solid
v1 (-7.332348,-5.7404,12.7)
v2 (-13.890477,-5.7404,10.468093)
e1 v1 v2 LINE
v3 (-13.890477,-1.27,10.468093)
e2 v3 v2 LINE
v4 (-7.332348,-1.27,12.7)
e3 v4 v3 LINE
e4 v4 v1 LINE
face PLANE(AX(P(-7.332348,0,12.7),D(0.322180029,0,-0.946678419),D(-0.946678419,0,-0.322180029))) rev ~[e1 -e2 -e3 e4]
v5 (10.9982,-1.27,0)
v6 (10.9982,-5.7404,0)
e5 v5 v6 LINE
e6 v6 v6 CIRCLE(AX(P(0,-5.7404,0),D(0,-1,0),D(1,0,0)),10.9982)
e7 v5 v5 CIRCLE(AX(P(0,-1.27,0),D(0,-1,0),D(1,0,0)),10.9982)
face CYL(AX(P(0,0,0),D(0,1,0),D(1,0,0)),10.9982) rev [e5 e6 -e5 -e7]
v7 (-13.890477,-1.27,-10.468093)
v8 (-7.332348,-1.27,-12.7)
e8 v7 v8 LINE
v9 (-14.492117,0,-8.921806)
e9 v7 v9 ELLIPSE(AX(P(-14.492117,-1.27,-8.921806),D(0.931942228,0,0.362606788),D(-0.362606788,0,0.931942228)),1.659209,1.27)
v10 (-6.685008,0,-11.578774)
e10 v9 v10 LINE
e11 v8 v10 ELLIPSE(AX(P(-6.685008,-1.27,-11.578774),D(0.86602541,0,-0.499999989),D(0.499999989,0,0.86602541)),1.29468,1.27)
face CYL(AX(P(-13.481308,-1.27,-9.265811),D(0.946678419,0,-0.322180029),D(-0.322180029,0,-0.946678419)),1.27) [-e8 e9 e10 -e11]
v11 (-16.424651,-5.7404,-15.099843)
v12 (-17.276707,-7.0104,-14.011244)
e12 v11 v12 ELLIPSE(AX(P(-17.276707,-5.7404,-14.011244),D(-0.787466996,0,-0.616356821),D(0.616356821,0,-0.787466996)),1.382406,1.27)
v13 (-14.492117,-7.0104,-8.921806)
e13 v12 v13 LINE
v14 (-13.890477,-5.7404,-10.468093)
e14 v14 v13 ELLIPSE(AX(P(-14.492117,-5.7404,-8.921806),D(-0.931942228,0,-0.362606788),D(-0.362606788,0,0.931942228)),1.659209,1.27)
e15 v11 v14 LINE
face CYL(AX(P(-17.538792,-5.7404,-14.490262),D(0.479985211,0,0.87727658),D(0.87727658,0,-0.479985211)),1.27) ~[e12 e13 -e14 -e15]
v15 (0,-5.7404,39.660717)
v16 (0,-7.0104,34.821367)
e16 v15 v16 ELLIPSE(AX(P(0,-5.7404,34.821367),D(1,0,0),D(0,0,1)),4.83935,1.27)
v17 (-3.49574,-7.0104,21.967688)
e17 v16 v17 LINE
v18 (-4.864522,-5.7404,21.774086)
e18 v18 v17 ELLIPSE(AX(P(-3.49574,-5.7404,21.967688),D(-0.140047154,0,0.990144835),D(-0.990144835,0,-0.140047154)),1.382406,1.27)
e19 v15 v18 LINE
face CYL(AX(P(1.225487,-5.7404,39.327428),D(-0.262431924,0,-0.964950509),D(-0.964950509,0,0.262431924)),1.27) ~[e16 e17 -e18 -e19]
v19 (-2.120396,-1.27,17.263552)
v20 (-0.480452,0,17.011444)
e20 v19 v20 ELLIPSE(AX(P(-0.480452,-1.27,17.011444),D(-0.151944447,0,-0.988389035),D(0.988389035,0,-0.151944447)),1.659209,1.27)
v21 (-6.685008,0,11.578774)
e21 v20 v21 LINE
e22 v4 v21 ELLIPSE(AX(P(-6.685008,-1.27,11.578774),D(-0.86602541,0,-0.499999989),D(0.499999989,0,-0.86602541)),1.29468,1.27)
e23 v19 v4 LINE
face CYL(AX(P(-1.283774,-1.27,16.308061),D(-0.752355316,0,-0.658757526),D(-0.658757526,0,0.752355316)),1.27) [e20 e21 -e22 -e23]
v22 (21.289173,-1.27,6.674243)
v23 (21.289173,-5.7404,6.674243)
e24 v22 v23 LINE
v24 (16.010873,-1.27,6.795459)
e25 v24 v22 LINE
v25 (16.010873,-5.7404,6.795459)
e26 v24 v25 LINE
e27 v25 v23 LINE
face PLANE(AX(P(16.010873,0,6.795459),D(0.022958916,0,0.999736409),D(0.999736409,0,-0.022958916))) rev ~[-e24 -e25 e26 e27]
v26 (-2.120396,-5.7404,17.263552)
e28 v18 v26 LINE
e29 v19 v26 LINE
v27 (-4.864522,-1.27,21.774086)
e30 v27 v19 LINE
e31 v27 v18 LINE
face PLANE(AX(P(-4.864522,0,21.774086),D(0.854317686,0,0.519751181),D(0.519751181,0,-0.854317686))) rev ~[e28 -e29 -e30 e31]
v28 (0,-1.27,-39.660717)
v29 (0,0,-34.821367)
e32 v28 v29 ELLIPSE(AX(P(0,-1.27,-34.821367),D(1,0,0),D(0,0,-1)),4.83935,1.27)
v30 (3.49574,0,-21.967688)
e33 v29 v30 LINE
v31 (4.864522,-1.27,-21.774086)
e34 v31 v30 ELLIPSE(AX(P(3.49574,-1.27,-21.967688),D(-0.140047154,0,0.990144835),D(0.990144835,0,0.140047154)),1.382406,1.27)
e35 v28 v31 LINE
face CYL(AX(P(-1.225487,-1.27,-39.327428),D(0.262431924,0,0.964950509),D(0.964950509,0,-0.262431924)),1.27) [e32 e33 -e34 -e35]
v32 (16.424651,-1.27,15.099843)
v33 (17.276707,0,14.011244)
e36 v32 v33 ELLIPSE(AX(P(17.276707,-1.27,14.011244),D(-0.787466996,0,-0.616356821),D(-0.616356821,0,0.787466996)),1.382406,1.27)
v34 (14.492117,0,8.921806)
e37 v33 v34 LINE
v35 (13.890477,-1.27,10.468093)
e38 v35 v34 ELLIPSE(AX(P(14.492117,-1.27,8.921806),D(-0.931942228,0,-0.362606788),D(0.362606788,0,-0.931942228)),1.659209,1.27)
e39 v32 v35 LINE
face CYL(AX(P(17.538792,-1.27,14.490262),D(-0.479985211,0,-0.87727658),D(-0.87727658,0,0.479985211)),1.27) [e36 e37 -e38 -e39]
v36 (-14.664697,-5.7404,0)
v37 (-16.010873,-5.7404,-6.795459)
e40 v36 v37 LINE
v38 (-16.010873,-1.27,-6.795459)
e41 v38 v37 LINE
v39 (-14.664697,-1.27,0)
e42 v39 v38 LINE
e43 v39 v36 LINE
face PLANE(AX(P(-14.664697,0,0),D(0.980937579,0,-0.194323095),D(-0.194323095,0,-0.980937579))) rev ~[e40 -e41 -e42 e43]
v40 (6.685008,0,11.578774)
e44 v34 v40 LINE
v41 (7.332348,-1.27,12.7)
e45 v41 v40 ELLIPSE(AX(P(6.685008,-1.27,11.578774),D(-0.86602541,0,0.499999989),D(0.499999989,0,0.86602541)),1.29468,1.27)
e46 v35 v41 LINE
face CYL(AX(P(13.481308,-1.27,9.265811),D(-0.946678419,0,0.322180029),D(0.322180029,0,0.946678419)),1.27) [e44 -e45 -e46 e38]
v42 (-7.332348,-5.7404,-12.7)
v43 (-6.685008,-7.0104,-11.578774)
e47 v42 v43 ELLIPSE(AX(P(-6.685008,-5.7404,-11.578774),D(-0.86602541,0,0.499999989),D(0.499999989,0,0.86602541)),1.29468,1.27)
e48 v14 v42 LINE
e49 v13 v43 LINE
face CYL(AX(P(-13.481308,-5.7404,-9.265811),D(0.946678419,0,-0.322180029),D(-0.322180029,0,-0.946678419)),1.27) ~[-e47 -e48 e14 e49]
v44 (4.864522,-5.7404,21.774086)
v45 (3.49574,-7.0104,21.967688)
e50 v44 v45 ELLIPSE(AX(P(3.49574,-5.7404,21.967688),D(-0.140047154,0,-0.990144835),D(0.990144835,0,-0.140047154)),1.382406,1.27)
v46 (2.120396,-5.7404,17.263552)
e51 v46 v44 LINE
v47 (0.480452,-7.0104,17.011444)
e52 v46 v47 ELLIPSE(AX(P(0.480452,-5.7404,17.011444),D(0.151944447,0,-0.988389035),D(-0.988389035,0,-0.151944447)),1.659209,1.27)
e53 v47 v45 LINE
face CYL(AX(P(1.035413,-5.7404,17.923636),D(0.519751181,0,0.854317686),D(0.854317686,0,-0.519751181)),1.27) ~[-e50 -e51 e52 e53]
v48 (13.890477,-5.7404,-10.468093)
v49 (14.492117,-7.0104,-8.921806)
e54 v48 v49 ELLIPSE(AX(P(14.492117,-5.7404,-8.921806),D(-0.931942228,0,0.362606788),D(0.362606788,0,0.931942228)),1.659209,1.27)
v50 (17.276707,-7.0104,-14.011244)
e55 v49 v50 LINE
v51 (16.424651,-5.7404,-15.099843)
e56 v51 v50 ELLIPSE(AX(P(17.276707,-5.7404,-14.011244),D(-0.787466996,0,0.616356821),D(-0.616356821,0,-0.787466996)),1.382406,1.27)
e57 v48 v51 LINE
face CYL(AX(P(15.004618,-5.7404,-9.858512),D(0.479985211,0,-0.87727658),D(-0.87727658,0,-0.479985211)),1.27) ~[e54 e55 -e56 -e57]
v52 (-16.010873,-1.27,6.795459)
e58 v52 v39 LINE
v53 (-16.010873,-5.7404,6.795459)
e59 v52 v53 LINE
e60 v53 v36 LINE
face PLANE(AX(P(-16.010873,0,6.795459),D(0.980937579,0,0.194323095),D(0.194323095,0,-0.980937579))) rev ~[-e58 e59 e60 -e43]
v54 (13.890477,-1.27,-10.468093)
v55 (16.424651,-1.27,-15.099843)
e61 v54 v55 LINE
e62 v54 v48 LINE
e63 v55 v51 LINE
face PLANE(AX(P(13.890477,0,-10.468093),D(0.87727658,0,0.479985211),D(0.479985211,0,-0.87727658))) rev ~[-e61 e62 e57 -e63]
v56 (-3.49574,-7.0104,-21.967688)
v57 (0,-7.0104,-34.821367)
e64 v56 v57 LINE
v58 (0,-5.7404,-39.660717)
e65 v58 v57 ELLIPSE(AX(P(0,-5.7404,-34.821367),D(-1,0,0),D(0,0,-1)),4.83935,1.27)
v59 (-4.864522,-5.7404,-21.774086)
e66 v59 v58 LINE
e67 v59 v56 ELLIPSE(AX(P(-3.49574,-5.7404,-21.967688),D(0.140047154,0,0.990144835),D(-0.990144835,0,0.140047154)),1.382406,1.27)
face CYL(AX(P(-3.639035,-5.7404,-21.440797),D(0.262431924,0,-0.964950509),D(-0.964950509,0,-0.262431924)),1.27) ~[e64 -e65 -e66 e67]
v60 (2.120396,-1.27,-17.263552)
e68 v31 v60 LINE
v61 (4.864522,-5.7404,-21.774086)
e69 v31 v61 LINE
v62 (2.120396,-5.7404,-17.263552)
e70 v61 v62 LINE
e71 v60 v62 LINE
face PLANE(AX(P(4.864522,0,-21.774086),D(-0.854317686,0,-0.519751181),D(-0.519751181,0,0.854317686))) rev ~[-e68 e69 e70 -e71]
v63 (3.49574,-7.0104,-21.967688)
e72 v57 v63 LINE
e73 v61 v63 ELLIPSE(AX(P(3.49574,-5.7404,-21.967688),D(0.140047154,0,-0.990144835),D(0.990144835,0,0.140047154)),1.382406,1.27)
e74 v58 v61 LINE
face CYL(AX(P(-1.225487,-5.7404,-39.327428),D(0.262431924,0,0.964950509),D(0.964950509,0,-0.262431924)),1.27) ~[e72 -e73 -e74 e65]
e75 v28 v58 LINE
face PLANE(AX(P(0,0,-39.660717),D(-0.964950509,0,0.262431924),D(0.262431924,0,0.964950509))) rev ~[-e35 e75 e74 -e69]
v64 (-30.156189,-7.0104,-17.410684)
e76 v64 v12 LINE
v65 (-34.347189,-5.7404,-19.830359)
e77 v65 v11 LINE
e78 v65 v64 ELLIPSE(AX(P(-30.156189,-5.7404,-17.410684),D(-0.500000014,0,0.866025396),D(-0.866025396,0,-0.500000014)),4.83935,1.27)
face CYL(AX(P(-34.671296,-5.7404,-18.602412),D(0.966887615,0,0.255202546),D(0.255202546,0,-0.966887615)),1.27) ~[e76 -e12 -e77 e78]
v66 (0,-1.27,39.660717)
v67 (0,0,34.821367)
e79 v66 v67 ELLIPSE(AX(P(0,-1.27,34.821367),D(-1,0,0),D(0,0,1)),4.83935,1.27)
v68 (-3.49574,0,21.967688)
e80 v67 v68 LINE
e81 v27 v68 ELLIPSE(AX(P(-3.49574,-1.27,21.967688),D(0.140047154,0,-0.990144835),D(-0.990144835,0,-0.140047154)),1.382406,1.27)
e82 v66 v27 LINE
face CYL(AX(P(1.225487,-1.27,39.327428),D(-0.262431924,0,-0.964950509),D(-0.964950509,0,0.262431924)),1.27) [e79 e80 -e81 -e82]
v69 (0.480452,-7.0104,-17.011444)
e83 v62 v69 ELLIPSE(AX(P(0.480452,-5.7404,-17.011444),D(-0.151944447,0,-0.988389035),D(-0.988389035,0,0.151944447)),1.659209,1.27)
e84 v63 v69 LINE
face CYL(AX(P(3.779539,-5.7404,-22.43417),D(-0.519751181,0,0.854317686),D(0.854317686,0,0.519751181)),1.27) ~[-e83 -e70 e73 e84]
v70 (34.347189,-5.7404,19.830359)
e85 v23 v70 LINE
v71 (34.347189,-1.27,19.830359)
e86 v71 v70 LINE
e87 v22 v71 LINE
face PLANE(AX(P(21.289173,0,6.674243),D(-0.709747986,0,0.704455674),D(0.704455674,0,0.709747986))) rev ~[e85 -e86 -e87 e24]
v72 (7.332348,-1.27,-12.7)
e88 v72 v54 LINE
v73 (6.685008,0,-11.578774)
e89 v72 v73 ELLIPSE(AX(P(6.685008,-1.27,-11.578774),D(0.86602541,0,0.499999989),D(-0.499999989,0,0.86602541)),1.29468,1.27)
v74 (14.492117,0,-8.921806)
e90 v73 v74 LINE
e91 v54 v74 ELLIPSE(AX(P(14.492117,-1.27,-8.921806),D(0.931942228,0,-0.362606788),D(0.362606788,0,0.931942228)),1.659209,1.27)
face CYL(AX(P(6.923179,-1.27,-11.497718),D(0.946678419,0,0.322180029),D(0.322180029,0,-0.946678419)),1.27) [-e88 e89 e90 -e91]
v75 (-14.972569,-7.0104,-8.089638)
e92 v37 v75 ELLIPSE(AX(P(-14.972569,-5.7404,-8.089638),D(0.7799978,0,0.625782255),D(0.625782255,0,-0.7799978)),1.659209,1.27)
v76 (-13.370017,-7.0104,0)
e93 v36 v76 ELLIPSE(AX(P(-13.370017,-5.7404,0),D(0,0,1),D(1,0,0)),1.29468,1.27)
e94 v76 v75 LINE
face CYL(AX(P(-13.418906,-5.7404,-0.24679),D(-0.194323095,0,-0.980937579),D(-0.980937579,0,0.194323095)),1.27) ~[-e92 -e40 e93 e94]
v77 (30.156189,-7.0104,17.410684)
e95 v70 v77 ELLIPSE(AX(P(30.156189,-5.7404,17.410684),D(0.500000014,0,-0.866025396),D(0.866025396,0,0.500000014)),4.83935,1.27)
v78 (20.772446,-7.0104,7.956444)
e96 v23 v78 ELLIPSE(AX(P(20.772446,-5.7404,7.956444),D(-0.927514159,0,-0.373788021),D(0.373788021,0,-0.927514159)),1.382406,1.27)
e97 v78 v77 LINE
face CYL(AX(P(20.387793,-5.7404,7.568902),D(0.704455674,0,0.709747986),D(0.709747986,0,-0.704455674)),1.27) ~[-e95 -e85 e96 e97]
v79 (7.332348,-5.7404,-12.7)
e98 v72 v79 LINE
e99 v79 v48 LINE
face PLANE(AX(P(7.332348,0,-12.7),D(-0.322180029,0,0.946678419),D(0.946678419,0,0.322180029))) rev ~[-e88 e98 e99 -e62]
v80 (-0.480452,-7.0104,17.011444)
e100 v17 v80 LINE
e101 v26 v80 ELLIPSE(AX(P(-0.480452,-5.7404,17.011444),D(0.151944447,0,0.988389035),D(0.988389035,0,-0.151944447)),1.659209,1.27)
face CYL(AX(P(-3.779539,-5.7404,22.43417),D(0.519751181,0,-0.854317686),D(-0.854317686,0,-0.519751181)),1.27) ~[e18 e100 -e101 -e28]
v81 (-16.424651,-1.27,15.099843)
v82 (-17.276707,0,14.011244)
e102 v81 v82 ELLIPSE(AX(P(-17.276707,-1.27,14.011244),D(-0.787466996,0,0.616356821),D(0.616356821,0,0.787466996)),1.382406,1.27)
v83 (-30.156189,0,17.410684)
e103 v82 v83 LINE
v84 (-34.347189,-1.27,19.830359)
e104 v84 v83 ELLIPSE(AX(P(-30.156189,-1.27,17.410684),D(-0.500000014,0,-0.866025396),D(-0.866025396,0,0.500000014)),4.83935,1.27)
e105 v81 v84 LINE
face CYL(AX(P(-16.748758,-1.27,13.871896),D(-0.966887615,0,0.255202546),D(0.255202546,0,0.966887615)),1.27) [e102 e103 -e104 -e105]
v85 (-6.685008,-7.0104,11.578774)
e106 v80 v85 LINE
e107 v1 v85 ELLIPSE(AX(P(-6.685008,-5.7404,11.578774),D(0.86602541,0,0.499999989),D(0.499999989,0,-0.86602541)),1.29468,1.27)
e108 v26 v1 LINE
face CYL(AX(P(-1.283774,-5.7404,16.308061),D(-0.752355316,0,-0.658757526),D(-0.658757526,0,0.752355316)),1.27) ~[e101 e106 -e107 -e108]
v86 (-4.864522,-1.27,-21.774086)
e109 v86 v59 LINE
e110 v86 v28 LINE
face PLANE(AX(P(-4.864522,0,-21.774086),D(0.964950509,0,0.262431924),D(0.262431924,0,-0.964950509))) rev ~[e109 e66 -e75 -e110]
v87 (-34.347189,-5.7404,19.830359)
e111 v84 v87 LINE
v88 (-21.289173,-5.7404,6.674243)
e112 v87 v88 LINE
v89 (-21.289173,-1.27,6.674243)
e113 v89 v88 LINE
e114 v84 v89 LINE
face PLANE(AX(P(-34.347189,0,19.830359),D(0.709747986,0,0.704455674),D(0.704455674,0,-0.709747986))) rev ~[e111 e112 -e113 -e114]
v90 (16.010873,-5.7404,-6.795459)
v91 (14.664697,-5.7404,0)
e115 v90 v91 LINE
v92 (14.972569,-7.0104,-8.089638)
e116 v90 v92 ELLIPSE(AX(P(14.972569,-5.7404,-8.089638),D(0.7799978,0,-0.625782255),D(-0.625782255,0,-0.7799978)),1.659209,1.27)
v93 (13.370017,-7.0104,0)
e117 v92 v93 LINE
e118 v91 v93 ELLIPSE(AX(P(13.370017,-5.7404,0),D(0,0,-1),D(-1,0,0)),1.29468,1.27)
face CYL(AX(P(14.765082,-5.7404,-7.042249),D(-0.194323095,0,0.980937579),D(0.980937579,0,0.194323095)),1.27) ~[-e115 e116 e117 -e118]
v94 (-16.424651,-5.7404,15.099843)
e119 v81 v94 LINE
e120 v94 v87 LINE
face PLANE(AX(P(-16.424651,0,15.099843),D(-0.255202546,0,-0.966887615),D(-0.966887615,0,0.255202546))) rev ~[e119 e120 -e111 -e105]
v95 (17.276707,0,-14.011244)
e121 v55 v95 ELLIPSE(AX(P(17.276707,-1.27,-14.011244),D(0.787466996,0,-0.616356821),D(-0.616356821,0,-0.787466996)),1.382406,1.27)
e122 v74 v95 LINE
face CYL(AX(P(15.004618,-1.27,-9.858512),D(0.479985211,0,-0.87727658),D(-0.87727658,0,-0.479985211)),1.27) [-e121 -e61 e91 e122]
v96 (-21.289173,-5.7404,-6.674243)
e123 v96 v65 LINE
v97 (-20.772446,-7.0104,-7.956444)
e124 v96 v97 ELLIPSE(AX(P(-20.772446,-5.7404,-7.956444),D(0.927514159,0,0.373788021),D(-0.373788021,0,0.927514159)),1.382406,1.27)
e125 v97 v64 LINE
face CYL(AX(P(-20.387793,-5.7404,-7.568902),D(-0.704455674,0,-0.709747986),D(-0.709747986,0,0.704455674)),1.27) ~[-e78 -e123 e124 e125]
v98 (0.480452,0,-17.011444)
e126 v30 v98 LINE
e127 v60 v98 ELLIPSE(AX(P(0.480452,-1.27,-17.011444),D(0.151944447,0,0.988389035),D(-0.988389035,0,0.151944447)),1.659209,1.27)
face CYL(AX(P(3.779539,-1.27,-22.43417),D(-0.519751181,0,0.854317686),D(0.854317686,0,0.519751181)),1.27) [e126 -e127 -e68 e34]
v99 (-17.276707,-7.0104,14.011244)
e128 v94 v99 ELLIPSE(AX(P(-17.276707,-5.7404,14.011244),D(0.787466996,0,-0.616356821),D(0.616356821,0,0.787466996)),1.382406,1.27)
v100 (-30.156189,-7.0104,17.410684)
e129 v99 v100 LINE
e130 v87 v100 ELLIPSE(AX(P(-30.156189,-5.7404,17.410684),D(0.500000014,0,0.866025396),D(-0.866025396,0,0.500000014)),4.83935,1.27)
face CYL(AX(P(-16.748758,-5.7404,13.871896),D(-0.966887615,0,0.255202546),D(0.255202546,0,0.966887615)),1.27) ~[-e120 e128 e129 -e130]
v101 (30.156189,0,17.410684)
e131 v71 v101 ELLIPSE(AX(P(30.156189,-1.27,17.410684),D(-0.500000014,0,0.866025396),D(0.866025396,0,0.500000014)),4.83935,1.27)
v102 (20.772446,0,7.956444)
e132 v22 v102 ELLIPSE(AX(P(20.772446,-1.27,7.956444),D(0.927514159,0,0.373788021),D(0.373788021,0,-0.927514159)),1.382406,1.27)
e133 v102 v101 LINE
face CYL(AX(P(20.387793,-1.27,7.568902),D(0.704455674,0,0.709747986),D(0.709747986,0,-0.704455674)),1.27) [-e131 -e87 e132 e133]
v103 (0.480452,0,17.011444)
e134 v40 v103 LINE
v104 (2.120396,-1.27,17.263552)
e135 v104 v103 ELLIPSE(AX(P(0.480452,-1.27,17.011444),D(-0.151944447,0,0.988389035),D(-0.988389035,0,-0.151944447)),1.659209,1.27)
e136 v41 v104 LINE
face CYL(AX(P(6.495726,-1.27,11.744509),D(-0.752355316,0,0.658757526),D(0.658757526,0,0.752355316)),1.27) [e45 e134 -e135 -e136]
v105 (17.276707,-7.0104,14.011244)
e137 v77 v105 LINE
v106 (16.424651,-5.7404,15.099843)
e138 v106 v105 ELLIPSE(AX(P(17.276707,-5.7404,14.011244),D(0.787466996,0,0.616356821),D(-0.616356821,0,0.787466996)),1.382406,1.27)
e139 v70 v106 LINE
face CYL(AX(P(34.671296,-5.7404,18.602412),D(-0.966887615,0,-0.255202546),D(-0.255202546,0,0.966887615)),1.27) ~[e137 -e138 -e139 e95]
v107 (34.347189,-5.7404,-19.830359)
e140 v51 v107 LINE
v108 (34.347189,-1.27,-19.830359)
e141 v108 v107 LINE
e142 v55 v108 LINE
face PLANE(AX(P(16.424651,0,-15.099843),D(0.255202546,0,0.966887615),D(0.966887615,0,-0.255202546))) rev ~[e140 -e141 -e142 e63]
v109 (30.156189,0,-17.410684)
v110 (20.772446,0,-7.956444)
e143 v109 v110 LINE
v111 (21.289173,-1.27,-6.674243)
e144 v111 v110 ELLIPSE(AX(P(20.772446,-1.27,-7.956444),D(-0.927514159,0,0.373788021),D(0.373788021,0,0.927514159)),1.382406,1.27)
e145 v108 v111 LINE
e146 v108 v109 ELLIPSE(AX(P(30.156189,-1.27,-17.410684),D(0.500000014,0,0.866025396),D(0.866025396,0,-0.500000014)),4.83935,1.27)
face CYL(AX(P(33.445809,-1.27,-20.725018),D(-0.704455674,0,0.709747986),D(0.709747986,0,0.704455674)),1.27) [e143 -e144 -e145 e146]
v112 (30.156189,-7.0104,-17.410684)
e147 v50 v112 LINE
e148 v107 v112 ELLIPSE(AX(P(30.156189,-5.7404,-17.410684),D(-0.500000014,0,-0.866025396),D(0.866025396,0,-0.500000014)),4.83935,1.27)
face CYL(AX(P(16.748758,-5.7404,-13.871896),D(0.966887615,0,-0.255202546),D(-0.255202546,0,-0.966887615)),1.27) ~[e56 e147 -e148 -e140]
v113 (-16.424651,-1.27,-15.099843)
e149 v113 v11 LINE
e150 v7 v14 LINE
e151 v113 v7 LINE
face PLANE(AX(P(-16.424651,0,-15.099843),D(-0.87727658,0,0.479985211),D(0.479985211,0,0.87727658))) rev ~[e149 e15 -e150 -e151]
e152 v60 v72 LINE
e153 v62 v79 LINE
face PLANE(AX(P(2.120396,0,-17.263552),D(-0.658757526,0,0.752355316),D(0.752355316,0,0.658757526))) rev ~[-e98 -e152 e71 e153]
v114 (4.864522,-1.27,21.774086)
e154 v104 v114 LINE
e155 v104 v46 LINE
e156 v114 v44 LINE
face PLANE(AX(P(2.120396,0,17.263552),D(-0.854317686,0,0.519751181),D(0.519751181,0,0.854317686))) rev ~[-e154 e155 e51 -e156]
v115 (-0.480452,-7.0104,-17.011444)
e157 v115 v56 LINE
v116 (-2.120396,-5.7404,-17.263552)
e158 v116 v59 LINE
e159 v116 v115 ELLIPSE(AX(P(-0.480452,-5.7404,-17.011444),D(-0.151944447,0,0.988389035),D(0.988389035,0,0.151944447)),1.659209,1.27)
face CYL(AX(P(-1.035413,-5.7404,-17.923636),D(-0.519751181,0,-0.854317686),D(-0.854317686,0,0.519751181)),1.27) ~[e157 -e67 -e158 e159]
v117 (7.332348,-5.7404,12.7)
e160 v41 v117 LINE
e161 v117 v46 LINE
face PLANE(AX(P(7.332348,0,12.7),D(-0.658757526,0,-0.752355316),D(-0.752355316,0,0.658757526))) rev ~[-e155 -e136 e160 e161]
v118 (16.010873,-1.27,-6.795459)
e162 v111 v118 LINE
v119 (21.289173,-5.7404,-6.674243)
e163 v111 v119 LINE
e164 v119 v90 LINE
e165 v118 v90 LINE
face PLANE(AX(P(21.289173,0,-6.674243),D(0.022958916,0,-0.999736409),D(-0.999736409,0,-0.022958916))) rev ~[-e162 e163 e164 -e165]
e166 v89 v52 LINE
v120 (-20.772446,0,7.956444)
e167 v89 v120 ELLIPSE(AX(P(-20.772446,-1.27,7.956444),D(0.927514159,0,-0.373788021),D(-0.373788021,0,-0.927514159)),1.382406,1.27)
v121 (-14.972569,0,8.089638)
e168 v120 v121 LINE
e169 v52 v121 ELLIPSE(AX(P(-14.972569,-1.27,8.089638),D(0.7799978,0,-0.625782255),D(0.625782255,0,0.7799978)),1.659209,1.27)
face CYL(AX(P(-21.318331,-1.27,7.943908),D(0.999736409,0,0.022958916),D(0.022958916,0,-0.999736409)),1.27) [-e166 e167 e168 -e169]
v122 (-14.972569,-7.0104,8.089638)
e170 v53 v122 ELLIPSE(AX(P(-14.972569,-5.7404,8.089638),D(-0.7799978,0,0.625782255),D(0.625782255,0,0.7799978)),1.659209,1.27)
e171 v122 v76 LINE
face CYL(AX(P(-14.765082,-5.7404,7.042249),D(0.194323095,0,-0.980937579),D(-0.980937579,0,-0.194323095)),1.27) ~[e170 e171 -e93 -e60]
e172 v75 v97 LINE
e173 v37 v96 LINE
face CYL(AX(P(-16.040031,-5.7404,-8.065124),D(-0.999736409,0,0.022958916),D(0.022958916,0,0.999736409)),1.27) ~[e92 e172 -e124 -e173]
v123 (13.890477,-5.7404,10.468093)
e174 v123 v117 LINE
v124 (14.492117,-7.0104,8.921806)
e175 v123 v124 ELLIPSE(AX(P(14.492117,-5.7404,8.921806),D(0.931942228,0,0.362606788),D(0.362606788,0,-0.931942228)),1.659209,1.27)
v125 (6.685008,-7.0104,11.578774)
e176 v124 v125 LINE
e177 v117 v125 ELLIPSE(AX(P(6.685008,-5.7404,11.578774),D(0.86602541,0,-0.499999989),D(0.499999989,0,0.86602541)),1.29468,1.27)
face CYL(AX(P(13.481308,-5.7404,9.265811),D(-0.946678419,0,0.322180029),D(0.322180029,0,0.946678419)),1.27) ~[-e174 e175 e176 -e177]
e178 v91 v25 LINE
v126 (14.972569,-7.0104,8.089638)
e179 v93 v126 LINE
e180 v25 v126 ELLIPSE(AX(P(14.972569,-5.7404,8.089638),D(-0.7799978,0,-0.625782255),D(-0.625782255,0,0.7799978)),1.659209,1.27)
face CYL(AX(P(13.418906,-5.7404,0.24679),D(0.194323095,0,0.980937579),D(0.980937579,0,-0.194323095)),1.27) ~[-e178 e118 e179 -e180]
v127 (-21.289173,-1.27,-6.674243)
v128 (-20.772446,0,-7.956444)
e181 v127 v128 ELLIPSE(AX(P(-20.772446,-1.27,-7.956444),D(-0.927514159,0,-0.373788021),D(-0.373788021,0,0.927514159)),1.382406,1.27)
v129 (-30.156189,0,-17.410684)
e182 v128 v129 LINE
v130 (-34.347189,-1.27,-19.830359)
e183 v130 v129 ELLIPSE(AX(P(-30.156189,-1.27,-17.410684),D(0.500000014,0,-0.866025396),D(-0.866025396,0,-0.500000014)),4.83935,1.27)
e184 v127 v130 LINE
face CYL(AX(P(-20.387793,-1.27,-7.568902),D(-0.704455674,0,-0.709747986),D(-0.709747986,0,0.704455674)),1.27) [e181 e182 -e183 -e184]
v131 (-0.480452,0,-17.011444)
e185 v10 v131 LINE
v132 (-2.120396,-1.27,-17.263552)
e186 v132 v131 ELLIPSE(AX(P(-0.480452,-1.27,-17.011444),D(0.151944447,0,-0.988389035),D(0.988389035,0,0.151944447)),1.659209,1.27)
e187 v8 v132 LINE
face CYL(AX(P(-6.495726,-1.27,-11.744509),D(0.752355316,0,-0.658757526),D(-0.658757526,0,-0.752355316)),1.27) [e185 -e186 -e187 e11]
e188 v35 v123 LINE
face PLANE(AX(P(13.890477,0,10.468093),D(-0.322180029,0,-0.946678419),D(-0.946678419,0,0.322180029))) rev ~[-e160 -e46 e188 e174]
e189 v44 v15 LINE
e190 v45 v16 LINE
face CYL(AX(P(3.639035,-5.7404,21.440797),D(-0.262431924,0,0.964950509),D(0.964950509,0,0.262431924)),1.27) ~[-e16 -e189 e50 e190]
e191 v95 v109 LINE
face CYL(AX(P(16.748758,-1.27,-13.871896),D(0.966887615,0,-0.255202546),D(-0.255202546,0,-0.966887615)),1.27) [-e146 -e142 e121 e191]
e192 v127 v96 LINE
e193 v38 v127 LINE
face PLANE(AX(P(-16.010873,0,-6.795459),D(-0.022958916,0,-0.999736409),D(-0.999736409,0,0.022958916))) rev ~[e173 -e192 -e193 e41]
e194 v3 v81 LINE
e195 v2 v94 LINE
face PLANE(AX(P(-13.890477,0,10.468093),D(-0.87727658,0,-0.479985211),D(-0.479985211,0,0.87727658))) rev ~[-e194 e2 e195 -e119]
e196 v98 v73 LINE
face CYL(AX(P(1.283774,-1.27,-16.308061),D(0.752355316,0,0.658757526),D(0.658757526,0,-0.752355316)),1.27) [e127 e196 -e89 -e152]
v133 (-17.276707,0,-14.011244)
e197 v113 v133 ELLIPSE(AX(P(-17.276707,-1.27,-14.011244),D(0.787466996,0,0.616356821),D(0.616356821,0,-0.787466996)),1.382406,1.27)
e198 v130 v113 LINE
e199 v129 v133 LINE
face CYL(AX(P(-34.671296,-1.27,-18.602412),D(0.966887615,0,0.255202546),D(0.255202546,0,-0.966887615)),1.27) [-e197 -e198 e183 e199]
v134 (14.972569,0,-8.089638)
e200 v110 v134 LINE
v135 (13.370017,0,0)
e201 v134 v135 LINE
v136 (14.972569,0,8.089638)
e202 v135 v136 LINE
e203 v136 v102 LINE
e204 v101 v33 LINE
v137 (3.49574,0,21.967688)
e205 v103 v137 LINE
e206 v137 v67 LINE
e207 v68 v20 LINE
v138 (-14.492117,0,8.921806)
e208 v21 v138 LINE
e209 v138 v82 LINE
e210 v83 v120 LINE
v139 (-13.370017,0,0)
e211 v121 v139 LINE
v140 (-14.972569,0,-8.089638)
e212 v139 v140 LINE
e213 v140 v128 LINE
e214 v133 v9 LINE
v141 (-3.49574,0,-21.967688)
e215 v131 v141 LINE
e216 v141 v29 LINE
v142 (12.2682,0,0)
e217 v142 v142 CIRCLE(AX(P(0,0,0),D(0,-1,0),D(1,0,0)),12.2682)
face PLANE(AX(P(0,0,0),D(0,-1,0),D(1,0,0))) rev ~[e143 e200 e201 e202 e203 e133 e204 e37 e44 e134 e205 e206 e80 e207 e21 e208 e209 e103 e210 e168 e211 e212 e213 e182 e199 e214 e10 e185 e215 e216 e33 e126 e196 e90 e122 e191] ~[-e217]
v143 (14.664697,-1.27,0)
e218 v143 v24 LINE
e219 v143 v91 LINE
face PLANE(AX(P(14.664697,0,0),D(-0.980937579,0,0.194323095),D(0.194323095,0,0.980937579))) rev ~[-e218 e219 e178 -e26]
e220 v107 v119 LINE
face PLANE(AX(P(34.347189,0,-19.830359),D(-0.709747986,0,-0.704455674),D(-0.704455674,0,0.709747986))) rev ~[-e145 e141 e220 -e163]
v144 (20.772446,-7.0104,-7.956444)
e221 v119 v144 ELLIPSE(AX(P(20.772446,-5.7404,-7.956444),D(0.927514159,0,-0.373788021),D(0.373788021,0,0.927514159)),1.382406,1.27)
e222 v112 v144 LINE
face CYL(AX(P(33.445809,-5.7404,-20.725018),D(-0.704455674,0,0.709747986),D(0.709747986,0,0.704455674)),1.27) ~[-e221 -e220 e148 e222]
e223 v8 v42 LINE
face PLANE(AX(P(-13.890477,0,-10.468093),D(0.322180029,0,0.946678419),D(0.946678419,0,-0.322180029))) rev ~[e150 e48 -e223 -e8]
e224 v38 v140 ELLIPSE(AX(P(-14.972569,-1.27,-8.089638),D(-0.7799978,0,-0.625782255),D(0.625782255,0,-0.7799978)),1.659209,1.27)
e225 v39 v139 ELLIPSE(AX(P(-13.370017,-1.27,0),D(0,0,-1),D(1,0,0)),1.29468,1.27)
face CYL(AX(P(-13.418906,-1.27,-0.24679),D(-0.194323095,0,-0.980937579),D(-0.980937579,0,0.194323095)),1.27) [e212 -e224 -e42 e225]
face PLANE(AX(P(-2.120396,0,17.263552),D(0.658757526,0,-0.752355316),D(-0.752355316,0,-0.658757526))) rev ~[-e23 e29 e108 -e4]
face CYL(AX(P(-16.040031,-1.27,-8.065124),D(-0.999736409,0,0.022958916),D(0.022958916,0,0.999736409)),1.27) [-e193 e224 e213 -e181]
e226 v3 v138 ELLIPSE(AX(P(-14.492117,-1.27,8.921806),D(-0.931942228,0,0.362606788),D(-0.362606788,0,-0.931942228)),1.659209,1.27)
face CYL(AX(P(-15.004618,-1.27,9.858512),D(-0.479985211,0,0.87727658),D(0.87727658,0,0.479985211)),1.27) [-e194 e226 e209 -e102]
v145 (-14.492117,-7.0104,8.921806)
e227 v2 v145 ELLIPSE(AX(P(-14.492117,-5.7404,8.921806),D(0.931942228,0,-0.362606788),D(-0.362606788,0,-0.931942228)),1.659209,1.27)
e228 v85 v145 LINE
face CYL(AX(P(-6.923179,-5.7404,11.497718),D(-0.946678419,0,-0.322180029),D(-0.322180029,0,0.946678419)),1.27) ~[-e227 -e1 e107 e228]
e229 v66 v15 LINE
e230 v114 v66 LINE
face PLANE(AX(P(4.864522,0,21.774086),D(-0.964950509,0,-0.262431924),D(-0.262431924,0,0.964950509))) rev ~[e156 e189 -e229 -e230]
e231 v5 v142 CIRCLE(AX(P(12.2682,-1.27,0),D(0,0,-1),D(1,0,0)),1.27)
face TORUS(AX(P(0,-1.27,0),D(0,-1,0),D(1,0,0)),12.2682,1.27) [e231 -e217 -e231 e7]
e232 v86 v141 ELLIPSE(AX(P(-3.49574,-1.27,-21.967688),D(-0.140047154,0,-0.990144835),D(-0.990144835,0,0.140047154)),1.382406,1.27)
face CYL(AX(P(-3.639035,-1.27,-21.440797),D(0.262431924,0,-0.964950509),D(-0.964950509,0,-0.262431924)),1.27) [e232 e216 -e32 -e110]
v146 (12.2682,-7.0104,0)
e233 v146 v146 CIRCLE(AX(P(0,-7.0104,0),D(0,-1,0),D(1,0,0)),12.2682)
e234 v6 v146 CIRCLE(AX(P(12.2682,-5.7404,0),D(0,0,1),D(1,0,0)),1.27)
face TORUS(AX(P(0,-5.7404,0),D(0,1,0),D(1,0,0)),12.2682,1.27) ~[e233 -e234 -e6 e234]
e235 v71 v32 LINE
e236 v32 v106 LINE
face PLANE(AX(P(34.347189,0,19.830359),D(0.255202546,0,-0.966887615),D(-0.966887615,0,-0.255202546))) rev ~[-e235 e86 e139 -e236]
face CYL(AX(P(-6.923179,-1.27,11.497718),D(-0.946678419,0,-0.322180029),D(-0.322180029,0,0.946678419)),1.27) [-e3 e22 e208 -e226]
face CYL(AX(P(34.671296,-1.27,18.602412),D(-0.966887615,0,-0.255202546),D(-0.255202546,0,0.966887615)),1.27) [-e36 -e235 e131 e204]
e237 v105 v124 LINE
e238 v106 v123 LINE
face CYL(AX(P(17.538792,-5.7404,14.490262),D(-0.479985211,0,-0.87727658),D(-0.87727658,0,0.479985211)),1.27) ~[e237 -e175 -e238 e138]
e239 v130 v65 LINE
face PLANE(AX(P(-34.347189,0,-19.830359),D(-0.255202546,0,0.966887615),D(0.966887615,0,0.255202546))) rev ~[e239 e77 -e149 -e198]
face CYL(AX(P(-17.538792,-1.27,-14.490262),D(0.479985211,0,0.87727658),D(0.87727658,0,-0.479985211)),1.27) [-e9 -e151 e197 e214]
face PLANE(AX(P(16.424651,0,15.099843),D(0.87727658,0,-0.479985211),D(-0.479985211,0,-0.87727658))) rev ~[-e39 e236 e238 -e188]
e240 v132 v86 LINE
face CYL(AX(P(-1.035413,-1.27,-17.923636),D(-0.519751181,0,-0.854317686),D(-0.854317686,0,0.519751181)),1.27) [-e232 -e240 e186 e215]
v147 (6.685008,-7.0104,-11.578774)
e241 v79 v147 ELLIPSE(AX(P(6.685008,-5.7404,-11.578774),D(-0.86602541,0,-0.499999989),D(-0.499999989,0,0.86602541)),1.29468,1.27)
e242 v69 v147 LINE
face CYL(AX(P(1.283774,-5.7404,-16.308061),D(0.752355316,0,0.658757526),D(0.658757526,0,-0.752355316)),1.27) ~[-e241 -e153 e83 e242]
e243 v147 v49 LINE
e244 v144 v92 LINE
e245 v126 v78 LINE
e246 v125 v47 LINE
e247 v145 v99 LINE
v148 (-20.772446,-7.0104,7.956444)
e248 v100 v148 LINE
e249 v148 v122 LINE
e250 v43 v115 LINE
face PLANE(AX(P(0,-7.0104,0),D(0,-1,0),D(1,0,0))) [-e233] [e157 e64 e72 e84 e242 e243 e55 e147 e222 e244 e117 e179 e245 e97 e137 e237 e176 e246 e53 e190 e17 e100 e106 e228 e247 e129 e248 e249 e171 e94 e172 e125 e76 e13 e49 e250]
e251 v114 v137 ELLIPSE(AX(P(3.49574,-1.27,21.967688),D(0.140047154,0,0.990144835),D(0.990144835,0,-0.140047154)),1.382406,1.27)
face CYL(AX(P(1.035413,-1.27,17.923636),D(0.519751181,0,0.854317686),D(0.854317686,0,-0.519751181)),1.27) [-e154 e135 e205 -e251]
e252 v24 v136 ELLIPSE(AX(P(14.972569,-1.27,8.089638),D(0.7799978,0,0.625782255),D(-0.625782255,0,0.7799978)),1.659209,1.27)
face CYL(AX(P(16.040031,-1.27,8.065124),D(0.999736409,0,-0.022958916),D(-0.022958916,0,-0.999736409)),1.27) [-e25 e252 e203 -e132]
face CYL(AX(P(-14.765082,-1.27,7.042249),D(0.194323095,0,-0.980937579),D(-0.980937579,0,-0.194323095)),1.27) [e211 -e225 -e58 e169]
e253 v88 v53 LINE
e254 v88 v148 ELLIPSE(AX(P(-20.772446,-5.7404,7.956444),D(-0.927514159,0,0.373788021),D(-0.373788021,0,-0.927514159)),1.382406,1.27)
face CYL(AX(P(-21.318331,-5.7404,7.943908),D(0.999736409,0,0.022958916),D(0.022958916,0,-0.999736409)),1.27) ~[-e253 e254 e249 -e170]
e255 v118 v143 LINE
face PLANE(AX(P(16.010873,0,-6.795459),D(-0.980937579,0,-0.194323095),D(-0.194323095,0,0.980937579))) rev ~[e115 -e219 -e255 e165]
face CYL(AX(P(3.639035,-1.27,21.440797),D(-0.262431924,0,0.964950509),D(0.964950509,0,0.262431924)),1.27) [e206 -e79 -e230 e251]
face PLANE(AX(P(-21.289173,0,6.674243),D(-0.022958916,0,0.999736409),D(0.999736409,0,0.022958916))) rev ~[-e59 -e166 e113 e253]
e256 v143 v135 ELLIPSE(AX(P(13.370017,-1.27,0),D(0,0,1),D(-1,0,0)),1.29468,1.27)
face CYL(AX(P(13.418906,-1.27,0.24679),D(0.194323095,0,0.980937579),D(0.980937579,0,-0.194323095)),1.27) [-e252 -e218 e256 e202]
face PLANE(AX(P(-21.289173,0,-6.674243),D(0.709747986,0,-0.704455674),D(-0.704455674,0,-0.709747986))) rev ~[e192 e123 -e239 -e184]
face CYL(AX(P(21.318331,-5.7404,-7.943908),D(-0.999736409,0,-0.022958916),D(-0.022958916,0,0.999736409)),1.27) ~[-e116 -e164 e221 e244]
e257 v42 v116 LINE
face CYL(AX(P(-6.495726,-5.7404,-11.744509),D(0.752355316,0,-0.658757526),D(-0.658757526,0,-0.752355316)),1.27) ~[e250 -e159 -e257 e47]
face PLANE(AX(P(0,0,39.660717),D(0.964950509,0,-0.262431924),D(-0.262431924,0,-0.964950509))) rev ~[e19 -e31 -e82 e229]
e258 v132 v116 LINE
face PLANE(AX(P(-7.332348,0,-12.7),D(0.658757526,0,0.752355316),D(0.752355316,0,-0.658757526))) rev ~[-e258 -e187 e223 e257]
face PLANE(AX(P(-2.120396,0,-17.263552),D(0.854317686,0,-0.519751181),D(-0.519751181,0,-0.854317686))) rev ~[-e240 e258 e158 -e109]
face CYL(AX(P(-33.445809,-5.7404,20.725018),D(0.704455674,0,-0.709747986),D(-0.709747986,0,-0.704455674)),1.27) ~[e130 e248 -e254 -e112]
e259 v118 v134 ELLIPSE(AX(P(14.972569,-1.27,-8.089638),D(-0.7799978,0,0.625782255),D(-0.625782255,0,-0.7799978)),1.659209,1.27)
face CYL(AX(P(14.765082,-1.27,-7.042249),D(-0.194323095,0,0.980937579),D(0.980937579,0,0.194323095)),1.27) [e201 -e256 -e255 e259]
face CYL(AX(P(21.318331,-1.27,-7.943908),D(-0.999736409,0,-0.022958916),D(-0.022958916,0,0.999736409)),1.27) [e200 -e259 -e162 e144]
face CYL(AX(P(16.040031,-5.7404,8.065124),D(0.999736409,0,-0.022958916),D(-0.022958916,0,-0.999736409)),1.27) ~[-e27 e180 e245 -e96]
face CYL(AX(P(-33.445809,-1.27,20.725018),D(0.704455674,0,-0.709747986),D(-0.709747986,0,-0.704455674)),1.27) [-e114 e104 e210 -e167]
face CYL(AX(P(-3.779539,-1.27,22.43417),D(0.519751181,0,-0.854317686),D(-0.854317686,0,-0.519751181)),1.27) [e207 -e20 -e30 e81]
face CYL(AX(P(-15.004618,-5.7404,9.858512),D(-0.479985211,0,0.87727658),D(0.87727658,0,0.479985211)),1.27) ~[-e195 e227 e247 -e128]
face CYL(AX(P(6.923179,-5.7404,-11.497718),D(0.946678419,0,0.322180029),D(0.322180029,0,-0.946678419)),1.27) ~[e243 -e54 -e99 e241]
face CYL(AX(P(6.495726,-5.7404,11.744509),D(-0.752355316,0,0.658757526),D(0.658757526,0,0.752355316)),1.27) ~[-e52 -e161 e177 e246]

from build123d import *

# Parameters (mm, degrees)
F0_R     = 10.9982
F1_DEPTH = 7.0104
F2_R     = 1.27


with BuildPart() as f1:
    # F0 (on Front) → F1 (new body)
    with BuildSketch(Plane.XZ):
        Polygon((-7.332348, -12.7), (7.332348, -12.7), (14.664697, 0), (7.332348, 12.7), (-7.332348, 12.7), (-14.664697, 0), align=None)
        Circle(F0_R, mode=Mode.SUBTRACT)
        Polygon((-7.332348, 12.7), (7.332348, 12.7), (2.120396, 17.263552), (4.864522, 21.774086), (0, 39.660717), (-4.864522, 21.774086), (-2.120396, 17.263552), align=None)
        Polygon((-16.010873, 6.795459), (-14.664697, 0), (-7.332348, 12.7), (-13.890477, 10.468093), (-16.424651, 15.099843), (-34.347189, 19.830359), (-21.289173, 6.674243), align=None)
        Polygon((-13.890477, -10.468093), (-7.332348, -12.7), (-14.664697, 0), (-16.010873, -6.795459), (-21.289173, -6.674243), (-34.347189, -19.830359), (-16.424651, -15.099843), align=None)
        Polygon((2.120396, -17.263552), (7.332348, -12.7), (-7.332348, -12.7), (-2.120396, -17.263552), (-4.864522, -21.774086), (0, -39.660717), (4.864522, -21.774086), align=None)
        Polygon((14.664697, 0), (7.332348, -12.7), (13.890477, -10.468093), (16.424651, -15.099843), (34.347189, -19.830359), (21.289173, -6.674243), (16.010873, -6.795459), align=None)
        Polygon((7.332348, 12.7), (14.664697, 0), (16.010873, 6.795459), (21.289173, 6.674243), (34.347189, 19.830359), (16.424651, 15.099843), (13.890477, 10.468093), align=None)
    extrude(amount=F1_DEPTH)

    # F2
    f2_edges = [f1.edges().sort_by_distance(p)[0] for p in [
        (4.726372, -7.0104, 14.981776),
        (3.492459, -7.0104, 19.518819),
        (2.432261, -7.0104, 30.717402),
        (-2.432261, -7.0104, 30.717402),
        (-3.492459, -7.0104, 19.518819),
        (-4.726372, -7.0104, 14.981776),
        (-10.611413, -7.0104, 11.584046),
        (-15.157564, -7.0104, 12.783968),
        (-25.38592, -7.0104, 17.465101),
        (-27.818181, -7.0104, 13.252301),
        (-18.650023, -7.0104, 6.734851),
        (-15.337785, -7.0104, 3.39773),
        (-15.337785, -7.0104, -3.39773),
        (-18.650023, -7.0104, -6.734851),
        (-27.818181, -7.0104, -13.252301),
        (-25.38592, -7.0104, -17.465101),
        (-15.157564, -7.0104, -12.783968),
        (-10.611413, -7.0104, -11.584046),
        (-4.726372, -7.0104, -14.981776),
        (-3.492459, -7.0104, -19.518819),
        (-2.432261, -7.0104, -30.717402),
        (2.432261, -7.0104, -30.717402),
        (3.492459, -7.0104, -19.518819),
        (4.726372, -7.0104, -14.981776),
        (10.611413, -7.0104, -11.584046),
        (15.157564, -7.0104, -12.783968),
        (25.38592, -7.0104, -17.465101),
        (27.818181, -7.0104, -13.252301),
        (18.650023, -7.0104, -6.734851),
        (15.337785, -7.0104, -3.39773),
        (15.337785, -7.0104, 3.39773),
        (18.650023, -7.0104, 6.734851),
        (27.818181, -7.0104, 13.252301),
        (25.38592, -7.0104, 17.465101),
        (15.157564, -7.0104, 12.783968),
        (10.611413, -7.0104, 11.584046),
        (-10.9982, -7.0104, 0),
        (4.726372, 0, 14.981776),
        (3.492459, 0, 19.518819),
        (2.432261, 0, 30.717402),
        (-2.432261, 0, 30.717402),
        (-3.492459, 0, 19.518819),
        (-4.726372, 0, 14.981776),
        (-10.611413, 0, 11.584046),
        (-15.157564, 0, 12.783968),
        (-25.38592, 0, 17.465101),
        (-27.818181, 0, 13.252301),
        (-18.650023, 0, 6.734851),
        (-15.337785, 0, 3.39773),
        (-15.337785, 0, -3.39773),
        (-18.650023, 0, -6.734851),
        (-27.818181, 0, -13.252301),
        (-25.38592, 0, -17.465101),
        (-15.157564, 0, -12.783968),
        (-10.611413, 0, -11.584046),
        (-4.726372, 0, -14.981776),
        (-3.492459, 0, -19.518819),
        (-2.432261, 0, -30.717402),
        (2.432261, 0, -30.717402),
        (3.492459, 0, -19.518819),
        (4.726372, 0, -14.981776),
        (10.611413, 0, -11.584046),
        (15.157564, 0, -12.783968),
        (25.38592, 0, -17.465101),
        (27.818181, 0, -13.252301),
        (18.650023, 0, -6.734851),
        (15.337785, 0, -3.39773),
        (15.337785, 0, 3.39773),
        (18.650023, 0, 6.734851),
        (27.818181, 0, 13.252301),
        (25.38592, 0, 17.465101),
        (15.157564, 0, 12.783968),
        (10.611413, 0, 11.584046),
        (-10.9982, 0, 0),
    ]]
    fillet(f2_edges, radius=F2_R)


solid = f1.part
